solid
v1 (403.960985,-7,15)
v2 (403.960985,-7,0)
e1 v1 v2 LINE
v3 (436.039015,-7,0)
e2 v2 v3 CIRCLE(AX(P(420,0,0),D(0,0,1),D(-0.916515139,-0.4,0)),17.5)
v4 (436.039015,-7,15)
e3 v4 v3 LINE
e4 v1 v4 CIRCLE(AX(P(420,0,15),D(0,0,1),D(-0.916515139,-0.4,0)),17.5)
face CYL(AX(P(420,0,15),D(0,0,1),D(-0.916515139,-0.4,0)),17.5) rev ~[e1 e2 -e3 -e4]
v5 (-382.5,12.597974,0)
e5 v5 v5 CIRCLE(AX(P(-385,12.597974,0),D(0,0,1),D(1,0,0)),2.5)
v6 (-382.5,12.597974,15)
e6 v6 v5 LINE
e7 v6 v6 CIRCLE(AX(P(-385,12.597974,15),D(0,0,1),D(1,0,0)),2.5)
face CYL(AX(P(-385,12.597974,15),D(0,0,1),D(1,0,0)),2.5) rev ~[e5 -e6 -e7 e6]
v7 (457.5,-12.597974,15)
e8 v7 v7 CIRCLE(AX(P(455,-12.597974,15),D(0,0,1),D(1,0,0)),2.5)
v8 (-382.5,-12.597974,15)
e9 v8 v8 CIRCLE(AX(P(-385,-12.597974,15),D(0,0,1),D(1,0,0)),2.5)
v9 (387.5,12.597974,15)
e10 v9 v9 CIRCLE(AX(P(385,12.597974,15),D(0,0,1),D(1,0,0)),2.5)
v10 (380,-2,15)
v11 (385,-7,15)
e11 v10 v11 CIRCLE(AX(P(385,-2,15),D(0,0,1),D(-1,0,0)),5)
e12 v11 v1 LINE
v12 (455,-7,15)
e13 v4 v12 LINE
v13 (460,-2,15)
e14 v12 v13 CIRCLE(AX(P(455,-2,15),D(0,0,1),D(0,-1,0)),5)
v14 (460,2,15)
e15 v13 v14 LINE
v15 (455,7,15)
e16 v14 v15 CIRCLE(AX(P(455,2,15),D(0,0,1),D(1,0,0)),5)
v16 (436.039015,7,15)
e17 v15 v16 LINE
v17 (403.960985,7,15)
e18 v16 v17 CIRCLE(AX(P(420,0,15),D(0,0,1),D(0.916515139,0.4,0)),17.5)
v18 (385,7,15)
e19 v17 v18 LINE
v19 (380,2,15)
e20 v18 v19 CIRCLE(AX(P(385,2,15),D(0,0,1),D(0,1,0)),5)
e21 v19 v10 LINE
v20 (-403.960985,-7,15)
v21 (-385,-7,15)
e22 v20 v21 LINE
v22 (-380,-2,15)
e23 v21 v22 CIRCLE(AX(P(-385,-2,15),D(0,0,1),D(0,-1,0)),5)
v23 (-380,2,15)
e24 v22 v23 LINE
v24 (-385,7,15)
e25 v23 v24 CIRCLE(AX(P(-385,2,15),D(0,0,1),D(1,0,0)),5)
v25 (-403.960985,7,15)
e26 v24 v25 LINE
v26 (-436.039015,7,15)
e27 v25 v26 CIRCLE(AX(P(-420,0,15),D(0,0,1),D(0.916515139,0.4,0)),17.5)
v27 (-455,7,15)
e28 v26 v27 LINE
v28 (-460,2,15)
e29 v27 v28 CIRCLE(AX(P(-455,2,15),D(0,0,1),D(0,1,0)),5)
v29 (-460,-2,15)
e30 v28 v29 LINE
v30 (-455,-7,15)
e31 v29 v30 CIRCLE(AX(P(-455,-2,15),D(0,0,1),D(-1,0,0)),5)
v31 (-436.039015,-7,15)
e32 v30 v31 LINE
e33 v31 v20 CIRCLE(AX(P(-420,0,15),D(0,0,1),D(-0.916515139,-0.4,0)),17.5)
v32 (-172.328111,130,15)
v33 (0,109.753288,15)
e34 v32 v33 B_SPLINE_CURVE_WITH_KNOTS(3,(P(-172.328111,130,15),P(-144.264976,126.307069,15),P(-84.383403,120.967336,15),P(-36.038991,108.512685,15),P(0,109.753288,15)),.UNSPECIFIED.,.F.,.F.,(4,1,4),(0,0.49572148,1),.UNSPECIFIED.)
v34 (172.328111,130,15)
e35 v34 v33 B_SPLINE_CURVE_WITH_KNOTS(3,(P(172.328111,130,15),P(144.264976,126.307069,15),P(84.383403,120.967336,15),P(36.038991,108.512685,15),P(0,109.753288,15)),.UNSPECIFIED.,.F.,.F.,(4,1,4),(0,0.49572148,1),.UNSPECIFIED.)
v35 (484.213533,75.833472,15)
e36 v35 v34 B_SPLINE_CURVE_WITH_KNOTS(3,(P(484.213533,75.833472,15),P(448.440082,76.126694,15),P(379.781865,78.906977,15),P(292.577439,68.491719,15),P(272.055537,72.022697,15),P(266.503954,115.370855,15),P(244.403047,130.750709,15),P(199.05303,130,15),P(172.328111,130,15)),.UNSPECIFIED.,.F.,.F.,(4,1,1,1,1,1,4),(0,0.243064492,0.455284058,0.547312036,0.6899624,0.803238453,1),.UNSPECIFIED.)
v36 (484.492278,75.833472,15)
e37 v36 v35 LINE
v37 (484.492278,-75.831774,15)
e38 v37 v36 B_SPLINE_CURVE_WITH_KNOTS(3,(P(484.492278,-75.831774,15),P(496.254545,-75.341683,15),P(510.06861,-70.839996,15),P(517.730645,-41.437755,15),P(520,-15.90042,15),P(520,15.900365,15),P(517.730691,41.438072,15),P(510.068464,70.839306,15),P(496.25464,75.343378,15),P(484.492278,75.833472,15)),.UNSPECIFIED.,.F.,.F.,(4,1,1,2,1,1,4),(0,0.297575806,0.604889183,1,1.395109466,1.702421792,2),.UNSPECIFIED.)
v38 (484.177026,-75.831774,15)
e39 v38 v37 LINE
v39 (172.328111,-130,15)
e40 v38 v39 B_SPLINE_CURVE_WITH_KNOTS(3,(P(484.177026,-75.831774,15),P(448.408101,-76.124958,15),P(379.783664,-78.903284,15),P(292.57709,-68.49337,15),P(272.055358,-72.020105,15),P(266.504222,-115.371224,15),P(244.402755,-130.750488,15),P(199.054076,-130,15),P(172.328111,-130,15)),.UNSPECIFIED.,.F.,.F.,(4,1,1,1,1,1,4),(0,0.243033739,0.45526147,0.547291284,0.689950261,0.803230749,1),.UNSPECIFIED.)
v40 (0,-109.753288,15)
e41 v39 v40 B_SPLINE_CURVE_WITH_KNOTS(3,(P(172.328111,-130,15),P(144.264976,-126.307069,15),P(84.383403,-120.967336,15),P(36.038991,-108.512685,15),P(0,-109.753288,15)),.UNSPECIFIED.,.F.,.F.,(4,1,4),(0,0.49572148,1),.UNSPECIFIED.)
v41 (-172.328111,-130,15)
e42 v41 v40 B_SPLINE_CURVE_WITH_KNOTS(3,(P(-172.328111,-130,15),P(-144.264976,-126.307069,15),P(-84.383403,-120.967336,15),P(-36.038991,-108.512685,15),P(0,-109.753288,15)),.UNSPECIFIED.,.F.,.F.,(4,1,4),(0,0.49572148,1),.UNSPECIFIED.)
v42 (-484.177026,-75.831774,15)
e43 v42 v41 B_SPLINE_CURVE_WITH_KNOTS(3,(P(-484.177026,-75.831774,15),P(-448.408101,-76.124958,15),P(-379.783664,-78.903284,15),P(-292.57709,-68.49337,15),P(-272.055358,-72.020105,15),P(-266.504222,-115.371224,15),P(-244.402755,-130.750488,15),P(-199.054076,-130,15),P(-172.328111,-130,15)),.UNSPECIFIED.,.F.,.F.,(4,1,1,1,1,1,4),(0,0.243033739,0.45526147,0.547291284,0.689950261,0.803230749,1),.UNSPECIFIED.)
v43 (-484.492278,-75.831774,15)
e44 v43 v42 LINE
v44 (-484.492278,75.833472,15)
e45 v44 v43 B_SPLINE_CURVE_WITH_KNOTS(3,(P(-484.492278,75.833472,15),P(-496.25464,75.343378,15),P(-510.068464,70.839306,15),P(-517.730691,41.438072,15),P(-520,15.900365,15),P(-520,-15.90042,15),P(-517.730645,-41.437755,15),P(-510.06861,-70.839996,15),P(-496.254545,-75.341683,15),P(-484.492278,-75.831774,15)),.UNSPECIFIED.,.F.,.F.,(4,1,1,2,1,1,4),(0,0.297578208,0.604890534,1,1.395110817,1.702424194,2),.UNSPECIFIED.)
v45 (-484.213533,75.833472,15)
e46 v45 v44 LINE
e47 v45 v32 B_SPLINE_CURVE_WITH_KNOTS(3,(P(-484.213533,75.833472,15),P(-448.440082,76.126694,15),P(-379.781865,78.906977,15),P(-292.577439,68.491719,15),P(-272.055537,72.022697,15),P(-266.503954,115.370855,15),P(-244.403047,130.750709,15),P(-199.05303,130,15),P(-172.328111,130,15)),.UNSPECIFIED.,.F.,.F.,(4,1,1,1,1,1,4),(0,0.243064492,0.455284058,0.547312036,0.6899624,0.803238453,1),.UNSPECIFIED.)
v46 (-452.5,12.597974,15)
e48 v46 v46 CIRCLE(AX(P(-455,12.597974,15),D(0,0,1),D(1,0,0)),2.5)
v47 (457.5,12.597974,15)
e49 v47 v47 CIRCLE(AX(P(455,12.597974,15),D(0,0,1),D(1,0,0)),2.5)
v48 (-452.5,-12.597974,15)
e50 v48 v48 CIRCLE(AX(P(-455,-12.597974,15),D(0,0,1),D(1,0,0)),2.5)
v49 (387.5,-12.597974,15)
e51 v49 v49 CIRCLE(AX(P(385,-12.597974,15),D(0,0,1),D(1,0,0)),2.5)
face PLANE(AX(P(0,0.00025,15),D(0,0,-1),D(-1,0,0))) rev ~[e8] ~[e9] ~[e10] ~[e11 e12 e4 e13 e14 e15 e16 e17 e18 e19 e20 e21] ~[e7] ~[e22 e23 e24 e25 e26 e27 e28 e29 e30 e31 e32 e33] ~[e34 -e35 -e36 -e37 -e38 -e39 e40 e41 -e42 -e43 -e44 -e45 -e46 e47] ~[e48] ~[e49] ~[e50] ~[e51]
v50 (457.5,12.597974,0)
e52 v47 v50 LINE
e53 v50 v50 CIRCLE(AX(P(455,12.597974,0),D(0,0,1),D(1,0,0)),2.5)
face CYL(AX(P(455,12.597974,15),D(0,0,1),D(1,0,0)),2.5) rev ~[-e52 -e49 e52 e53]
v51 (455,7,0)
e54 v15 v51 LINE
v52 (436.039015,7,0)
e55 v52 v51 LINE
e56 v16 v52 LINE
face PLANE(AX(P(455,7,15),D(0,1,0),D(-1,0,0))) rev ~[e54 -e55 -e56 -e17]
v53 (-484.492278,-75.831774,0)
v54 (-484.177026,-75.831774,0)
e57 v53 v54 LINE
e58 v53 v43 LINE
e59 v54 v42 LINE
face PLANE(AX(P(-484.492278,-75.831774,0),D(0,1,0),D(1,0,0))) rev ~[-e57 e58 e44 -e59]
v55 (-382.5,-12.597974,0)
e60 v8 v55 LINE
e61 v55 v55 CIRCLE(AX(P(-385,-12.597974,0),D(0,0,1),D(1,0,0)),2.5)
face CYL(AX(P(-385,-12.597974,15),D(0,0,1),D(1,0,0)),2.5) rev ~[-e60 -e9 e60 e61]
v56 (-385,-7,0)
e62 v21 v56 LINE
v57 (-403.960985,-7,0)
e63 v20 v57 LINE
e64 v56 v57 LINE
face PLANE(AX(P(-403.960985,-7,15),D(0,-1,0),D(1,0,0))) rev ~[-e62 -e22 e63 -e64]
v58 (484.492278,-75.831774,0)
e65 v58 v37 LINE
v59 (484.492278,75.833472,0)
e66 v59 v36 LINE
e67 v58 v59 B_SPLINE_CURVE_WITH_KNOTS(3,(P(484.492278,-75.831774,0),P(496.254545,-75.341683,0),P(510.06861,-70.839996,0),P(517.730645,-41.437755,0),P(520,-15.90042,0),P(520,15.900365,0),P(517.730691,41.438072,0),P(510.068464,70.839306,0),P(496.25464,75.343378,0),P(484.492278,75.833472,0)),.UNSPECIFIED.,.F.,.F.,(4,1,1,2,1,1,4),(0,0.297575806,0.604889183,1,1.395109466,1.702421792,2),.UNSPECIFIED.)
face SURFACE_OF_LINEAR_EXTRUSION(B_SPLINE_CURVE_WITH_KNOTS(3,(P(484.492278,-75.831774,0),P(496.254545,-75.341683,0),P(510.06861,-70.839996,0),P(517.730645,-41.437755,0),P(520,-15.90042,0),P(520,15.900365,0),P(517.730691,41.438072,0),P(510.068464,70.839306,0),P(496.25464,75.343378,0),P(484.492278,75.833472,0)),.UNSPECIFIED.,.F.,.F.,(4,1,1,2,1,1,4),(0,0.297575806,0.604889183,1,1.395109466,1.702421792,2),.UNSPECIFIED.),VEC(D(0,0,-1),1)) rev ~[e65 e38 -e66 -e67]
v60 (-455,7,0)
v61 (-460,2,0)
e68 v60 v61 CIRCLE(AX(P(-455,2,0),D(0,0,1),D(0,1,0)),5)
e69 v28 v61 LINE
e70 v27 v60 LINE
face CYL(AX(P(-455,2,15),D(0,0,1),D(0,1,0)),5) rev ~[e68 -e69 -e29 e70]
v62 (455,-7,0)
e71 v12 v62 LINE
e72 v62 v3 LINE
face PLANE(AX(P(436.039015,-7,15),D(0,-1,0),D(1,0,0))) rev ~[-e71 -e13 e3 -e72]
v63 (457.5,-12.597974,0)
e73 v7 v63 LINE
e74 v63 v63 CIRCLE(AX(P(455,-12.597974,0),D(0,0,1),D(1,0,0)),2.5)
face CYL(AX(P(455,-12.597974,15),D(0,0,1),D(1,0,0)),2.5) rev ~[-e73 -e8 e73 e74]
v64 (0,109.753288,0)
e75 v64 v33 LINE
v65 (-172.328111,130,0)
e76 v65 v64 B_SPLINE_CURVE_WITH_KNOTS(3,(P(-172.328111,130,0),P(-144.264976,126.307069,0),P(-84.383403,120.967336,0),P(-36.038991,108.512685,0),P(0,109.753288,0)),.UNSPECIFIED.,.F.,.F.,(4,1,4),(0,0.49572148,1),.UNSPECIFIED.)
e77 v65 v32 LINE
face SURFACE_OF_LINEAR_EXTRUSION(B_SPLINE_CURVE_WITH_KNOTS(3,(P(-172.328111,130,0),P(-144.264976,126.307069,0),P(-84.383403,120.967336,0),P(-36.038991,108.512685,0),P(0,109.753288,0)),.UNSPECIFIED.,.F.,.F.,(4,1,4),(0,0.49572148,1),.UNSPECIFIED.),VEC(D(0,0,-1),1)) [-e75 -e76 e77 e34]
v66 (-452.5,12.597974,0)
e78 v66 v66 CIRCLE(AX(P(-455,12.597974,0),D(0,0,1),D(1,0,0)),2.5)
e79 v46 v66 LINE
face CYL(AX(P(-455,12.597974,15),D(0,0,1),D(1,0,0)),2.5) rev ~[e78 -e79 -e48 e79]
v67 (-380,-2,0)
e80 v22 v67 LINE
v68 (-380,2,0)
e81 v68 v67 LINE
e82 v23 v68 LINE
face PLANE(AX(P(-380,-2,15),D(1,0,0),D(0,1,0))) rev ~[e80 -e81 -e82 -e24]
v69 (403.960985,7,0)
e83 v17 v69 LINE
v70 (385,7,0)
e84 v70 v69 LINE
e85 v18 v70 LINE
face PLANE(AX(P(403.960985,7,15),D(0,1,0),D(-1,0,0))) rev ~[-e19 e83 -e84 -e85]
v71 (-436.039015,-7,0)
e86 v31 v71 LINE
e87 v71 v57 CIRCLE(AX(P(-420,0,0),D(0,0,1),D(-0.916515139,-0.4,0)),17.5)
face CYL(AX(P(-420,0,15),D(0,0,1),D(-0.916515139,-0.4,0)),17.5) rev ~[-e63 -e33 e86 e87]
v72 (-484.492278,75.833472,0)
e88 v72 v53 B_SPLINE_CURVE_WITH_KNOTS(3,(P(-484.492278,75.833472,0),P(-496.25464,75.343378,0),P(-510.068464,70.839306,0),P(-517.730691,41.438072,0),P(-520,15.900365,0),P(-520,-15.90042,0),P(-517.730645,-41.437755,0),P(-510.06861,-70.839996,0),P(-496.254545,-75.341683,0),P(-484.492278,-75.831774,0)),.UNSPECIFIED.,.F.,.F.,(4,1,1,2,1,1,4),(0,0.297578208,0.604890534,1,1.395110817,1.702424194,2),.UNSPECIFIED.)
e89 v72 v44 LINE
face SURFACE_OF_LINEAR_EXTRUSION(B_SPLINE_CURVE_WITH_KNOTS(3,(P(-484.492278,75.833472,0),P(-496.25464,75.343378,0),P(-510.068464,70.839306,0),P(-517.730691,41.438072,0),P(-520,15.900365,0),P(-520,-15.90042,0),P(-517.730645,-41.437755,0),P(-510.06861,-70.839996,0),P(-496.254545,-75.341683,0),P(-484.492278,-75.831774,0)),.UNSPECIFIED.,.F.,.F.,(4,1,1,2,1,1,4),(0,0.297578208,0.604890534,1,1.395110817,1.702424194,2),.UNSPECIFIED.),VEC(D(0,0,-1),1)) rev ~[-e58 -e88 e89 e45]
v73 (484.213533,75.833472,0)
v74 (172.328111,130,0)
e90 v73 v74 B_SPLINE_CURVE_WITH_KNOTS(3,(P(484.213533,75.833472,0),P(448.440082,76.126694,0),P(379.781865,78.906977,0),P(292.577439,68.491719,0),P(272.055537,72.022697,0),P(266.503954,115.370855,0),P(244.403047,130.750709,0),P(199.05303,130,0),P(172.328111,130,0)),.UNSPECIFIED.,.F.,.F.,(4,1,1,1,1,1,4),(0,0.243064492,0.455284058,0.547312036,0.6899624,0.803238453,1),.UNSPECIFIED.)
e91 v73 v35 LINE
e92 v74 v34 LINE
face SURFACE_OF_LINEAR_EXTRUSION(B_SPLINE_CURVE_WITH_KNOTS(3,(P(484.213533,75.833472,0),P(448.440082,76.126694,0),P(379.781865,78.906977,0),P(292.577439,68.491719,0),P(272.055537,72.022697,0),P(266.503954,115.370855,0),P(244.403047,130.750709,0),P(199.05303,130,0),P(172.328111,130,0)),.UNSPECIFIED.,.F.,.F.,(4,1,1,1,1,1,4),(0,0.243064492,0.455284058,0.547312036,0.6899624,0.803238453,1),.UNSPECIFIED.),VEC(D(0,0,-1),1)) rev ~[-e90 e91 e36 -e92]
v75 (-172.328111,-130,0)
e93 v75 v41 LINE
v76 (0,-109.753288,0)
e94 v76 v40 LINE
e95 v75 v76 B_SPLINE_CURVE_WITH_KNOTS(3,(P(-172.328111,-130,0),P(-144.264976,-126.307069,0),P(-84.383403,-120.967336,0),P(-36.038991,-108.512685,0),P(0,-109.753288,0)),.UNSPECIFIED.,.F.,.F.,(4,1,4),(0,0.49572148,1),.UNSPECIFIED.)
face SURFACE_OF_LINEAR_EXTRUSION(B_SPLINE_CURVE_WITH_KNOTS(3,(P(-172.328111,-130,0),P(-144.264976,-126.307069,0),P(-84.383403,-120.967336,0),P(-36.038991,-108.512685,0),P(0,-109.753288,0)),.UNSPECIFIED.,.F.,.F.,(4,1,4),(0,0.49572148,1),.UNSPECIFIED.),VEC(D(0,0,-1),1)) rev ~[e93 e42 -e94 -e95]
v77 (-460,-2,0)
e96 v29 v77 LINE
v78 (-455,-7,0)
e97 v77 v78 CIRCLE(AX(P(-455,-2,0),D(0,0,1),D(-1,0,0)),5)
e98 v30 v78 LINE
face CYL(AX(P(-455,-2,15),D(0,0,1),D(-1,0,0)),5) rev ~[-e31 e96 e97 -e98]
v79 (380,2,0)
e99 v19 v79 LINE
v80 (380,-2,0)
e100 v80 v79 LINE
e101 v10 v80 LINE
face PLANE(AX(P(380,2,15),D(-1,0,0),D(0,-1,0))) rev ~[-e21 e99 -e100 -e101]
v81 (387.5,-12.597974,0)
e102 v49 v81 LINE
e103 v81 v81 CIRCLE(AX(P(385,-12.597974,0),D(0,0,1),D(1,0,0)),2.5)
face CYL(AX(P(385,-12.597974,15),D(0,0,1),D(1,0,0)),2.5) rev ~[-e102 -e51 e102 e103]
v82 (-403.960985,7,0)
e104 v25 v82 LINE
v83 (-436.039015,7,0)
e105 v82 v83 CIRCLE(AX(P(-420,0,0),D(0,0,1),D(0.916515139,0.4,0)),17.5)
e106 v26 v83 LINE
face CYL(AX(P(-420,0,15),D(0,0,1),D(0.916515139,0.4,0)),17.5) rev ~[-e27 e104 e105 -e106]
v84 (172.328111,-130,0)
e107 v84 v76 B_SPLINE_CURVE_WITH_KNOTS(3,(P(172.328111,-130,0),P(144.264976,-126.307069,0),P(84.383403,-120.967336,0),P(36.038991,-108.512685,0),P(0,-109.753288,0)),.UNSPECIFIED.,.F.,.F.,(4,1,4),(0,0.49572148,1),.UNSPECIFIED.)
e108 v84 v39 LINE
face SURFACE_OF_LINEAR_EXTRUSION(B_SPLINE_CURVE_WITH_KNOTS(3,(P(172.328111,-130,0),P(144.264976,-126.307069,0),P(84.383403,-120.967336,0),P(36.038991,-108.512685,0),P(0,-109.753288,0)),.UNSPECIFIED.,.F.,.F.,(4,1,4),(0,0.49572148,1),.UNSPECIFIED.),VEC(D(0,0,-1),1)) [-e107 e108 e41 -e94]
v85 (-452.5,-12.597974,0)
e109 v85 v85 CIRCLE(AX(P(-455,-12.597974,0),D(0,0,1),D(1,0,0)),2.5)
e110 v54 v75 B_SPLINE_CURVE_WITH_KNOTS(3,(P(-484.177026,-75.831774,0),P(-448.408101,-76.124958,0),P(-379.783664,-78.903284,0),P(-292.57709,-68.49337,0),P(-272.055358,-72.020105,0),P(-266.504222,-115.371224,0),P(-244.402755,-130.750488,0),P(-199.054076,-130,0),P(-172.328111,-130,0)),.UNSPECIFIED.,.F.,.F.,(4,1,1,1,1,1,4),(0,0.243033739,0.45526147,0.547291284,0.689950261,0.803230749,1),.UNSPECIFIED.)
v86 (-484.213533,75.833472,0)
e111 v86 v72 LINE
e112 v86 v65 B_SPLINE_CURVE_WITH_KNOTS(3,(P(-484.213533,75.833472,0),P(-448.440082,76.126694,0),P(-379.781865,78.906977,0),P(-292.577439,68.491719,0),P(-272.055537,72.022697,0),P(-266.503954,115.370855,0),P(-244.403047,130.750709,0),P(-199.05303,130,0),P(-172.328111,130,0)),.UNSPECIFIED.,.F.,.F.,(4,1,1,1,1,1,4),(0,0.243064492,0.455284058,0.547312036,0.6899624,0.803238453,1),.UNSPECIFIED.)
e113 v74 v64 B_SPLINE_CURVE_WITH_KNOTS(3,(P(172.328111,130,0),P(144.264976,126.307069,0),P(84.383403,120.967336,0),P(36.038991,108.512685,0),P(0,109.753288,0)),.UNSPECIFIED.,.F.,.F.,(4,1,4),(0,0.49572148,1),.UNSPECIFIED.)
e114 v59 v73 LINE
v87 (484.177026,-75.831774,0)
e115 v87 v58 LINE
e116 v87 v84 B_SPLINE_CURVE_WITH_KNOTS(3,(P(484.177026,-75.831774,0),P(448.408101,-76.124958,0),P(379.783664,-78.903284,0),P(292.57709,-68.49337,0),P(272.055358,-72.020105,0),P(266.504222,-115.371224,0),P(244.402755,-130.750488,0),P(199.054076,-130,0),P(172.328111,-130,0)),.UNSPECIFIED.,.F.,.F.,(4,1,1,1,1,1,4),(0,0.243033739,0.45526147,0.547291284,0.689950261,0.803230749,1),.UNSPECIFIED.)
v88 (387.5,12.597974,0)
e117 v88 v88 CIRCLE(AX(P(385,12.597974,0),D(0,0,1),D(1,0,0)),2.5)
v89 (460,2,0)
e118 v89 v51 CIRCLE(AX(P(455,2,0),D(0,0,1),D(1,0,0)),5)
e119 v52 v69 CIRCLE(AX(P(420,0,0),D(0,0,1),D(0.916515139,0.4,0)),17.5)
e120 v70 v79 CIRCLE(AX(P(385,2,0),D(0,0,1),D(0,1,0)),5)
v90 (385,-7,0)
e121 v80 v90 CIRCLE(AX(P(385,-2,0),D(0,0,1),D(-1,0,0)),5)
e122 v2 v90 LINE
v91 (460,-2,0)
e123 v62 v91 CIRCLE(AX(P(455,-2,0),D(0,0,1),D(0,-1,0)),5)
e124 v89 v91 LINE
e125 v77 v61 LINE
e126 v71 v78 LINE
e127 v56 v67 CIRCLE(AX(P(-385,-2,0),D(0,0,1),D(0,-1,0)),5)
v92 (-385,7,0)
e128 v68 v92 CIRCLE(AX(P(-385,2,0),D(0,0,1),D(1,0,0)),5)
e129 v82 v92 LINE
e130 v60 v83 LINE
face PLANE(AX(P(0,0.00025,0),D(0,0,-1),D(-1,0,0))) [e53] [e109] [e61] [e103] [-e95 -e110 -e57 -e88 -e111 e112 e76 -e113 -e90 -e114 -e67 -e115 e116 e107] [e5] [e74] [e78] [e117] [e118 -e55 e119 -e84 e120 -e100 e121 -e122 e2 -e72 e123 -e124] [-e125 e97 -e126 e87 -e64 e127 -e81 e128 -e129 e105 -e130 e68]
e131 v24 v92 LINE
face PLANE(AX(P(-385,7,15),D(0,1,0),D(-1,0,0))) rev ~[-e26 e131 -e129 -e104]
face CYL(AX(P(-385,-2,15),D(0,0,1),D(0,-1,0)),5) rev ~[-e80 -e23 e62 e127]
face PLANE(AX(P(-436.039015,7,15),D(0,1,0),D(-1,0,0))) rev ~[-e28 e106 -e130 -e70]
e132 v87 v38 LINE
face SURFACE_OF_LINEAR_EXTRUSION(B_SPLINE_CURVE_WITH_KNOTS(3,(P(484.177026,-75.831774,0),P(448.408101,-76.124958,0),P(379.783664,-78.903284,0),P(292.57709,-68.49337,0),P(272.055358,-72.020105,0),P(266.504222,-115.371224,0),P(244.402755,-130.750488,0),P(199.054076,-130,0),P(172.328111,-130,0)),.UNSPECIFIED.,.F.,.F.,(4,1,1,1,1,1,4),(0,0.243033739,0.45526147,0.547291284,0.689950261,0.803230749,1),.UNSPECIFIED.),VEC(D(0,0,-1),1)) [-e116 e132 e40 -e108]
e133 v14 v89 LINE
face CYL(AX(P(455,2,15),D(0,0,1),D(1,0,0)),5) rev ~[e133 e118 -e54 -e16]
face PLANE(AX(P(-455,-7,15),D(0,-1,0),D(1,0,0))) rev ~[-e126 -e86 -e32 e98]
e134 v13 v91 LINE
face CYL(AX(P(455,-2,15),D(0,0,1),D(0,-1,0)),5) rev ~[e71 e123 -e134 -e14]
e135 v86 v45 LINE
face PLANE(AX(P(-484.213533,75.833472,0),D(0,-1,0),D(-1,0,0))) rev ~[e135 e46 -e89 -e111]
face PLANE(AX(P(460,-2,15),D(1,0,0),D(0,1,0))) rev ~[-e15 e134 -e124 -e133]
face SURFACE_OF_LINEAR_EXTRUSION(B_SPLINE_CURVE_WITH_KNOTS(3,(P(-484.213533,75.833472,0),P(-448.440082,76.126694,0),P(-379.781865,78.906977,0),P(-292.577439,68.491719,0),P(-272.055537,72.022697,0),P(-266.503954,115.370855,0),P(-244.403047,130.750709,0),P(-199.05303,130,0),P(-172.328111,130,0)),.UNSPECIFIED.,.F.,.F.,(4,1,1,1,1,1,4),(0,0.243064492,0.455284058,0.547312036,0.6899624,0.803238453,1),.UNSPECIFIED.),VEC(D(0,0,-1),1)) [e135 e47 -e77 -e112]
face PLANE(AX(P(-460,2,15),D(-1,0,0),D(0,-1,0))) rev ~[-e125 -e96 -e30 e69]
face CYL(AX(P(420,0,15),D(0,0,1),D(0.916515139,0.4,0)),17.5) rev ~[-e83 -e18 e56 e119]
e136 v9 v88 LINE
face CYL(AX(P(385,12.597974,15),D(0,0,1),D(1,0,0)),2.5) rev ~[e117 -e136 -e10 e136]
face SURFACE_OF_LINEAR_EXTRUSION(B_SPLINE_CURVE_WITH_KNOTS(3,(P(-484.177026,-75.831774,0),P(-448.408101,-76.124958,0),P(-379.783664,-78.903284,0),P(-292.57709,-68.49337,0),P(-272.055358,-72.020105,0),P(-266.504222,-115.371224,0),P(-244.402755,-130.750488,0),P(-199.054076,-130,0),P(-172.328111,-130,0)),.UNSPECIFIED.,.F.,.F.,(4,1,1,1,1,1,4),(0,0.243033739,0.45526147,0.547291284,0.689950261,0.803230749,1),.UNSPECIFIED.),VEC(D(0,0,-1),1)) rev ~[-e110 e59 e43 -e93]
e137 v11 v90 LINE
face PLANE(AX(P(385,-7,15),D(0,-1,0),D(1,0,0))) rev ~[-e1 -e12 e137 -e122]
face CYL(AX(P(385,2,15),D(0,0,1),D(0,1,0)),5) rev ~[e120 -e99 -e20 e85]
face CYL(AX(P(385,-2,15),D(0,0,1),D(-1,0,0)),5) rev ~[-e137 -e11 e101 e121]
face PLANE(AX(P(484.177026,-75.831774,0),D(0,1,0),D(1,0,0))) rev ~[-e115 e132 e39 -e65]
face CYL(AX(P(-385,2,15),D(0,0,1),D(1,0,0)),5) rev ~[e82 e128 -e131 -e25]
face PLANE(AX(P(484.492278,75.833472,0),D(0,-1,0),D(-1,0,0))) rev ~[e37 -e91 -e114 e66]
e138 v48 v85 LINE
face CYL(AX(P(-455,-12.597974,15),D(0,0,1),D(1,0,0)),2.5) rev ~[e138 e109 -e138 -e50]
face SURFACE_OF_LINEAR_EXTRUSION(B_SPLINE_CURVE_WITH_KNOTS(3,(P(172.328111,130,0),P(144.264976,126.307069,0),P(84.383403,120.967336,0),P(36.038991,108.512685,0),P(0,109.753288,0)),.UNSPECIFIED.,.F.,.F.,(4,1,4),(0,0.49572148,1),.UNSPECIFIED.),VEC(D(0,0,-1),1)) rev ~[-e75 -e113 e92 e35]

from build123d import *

# Parameters (mm, degrees)
F1_DEPTH = 15
F2_R     = 2.5
F3_DEPTH = 25


with BuildPart() as f1:
    # F0 (on Top) → F1 (new body)
    with BuildSketch(Plane.XY):
        with BuildLine():
            add(Edge.make_bspline(
                [(-520, 0), (-520, 15.9003654403), (-517.7306908559, 41.4380719701), (-510.0684638075, 70.839305794), (-496.2546402777, 75.3433776244), (-484.4922778909, 75.8334723447)],
                knots=[0, 0, 0, 0, 0.3951094656, 0.7024217918, 1, 1, 1, 1], degree=3))
            add(Edge.make_bspline(
                [(-520, 0), (-520, -15.9004198125), (-517.7306453579, -41.4377545697), (-510.068610043, -70.8399958028), (-496.2545453352, -75.341682848), (-484.4922778909, -75.8317736123)],
                knots=[0, 0, 0, 0, 0.3951108167, 0.7024241938, 1, 1, 1, 1], degree=3))
            Line((-484.4922778909, -75.8317736123), (-484.177025536, -75.8317736123))
            add(Edge.make_bspline(
                [(-484.177025536, -75.8317736123), (-448.4081006762, -76.1249578872), (-379.7836643938, -78.9032835211), (-292.5770901238, -68.4933699657), (-272.055358384, -72.0201049885), (-266.5042216878, -115.3712239239), (-244.4027546234, -130.7504883329), (-199.0540764716, -130), (-172.3281113105, -130)],
                knots=[0, 0, 0, 0, 0.2430337388, 0.4552614698, 0.5472912835, 0.6899502606, 0.803230749, 1, 1, 1, 1], degree=3))
            add(Edge.make_bspline(
                [(-172.3281113105, -130), (-144.2649763344, -126.3070692813), (-84.3834030663, -120.967336463), (-36.0389910638, -108.5126847029), (0, -109.7532883286)],
                knots=[0, 0, 0, 0, 0.4957214801, 1, 1, 1, 1], degree=3))
            add(Edge.make_bspline(
                [(172.3281113105, -130), (144.2649763344, -126.3070692813), (84.3834030663, -120.967336463), (36.0389910638, -108.5126847029), (0, -109.7532883286)],
                knots=[0, 0, 0, 0, 0.4957214801, 1, 1, 1, 1], degree=3))
            add(Edge.make_bspline(
                [(484.177025536, -75.8317736123), (448.4081006762, -76.1249578872), (379.7836643938, -78.9032835211), (292.5770901238, -68.4933699657), (272.055358384, -72.0201049885), (266.5042216878, -115.3712239239), (244.4027546234, -130.7504883329), (199.0540764716, -130), (172.3281113105, -130)],
                knots=[0, 0, 0, 0, 0.2430337388, 0.4552614698, 0.5472912835, 0.6899502606, 0.803230749, 1, 1, 1, 1], degree=3))
            Line((484.177025536, -75.8317736123), (484.4922778909, -75.8317736123))
            add(Edge.make_bspline(
                [(520, 0), (520, -15.9004198125), (517.7306453579, -41.4377545697), (510.068610043, -70.8399958028), (496.2545453352, -75.341682848), (484.4922778909, -75.8317736123)],
                knots=[0, 0, 0, 0, 0.3951108167, 0.7024241938, 1, 1, 1, 1], degree=3))
            add(Edge.make_bspline(
                [(520, 0), (520, 15.9003654403), (517.7306908559, 41.4380719701), (510.0684638075, 70.839305794), (496.2546402777, 75.3433776244), (484.4922778909, 75.8334723447)],
                knots=[0, 0, 0, 0, 0.3951094656, 0.7024217918, 1, 1, 1, 1], degree=3))
            Line((484.4922778909, 75.8334723447), (484.2135333809, 75.8334723447))
            add(Edge.make_bspline(
                [(484.2135333809, 75.8334723447), (448.4400823141, 76.1266937192), (379.7818647267, 78.9069766453), (292.577438612, 68.4917194427), (272.0555366186, 72.0226973092), (266.503953657, 115.3708548142), (244.4030472539, 130.750708745), (199.0530300662, 130), (172.3281113105, 130)],
                knots=[0, 0, 0, 0, 0.2430644923, 0.4552840581, 0.547312036, 0.6899624, 0.8032384531, 1, 1, 1, 1], degree=3))
            add(Edge.make_bspline(
                [(172.3281113105, 130), (144.2649763343, 126.3070692813), (84.3834030663, 120.967336463), (36.0389910638, 108.5126847029), (0, 109.7532883286)],
                knots=[0, 0, 0, 0, 0.4957214801, 1, 1, 1, 1], degree=3))
            add(Edge.make_bspline(
                [(-172.3281113105, 130), (-144.2649763343, 126.3070692813), (-84.3834030663, 120.967336463), (-36.0389910638, 108.5126847029), (0, 109.7532883286)],
                knots=[0, 0, 0, 0, 0.4957214801, 1, 1, 1, 1], degree=3))
            add(Edge.make_bspline(
                [(-484.2135333809, 75.8334723447), (-448.4400823141, 76.1266937192), (-379.7818647267, 78.9069766453), (-292.577438612, 68.4917194427), (-272.0555366186, 72.0226973092), (-266.503953657, 115.3708548142), (-244.4030472539, 130.750708745), (-199.0530300662, 130), (-172.3281113105, 130)],
                knots=[0, 0, 0, 0, 0.2430644923, 0.4552840581, 0.547312036, 0.6899624, 0.8032384531, 1, 1, 1, 1], degree=3))
            Line((-484.2135333809, 75.8334723447), (-484.4922778909, 75.8334723447))
        make_face()
    extrude(amount=F1_DEPTH)

    # F2 (on face) → F3 (cut)
    with BuildSketch(Plane.XY.offset(15)):
        with BuildLine():
            ThreePointArc((-436.0390149323, -7), (-420, -17.5), (-403.9609850677, -7))
            Line((-403.9609850677, -7), (-385, -7))
            ThreePointArc((-385, -7), (-381.4644660941, -5.5355339059), (-380, -2))
            Line((-380, -2), (-380, 2))
            ThreePointArc((-380, 2), (-381.4644660941, 5.5355339059), (-385, 7))
            Line((-385, 7), (-403.9609850677, 7))
            ThreePointArc((-403.9609850677, 7), (-420, 17.5), (-436.0390149323, 7))
            Line((-436.0390149323, 7), (-455, 7))
            ThreePointArc((-455, 7), (-458.5355339059, 5.5355339059), (-460, 2))
            Line((-460, 2), (-460, -2))
            ThreePointArc((-460, -2), (-458.5355339059, -5.5355339059), (-455, -7))
            Line((-455, -7), (-436.0390149323, -7))
        make_face()
        with BuildLine():
            Line((385, -7), (403.9609850677, -7))
            ThreePointArc((403.9609850677, -7), (420, -17.5), (436.0390149323, -7))
            Line((436.0390149323, -7), (455, -7))
            ThreePointArc((455, -7), (458.5355339059, -5.5355339059), (460, -2))
            Line((460, -2), (460, 2))
            ThreePointArc((460, 2), (458.5355339059, 5.5355339059), (455, 7))
            Line((455, 7), (436.0390149323, 7))
            ThreePointArc((436.0390149323, 7), (420, 17.5), (403.9609850677, 7))
            Line((403.9609850677, 7), (385, 7))
            ThreePointArc((385, 7), (381.4644660941, 5.5355339059), (380, 2))
            Line((380, 2), (380, -2))
            ThreePointArc((380, -2), (381.4644660941, -5.5355339059), (385, -7))
        make_face()
        with Locations((-385, 12.5979743898)):
            Circle(F2_R)
        with Locations((-385, -12.5979743898)):
            Circle(F2_R)
        with Locations((-455, -12.5979743898)):
            Circle(F2_R)
        with Locations((-455, 12.5979743898)):
            Circle(F2_R)
        with Locations((385, 12.5979743898)):
            Circle(F2_R)
        with Locations((385, -12.5979743898)):
            Circle(F2_R)
        with Locations((455, 12.5979743898)):
            Circle(F2_R)
        with Locations((455, -12.5979743898)):
            Circle(F2_R)
    extrude(amount=-F3_DEPTH, mode=Mode.SUBTRACT)


solid = f1.part
